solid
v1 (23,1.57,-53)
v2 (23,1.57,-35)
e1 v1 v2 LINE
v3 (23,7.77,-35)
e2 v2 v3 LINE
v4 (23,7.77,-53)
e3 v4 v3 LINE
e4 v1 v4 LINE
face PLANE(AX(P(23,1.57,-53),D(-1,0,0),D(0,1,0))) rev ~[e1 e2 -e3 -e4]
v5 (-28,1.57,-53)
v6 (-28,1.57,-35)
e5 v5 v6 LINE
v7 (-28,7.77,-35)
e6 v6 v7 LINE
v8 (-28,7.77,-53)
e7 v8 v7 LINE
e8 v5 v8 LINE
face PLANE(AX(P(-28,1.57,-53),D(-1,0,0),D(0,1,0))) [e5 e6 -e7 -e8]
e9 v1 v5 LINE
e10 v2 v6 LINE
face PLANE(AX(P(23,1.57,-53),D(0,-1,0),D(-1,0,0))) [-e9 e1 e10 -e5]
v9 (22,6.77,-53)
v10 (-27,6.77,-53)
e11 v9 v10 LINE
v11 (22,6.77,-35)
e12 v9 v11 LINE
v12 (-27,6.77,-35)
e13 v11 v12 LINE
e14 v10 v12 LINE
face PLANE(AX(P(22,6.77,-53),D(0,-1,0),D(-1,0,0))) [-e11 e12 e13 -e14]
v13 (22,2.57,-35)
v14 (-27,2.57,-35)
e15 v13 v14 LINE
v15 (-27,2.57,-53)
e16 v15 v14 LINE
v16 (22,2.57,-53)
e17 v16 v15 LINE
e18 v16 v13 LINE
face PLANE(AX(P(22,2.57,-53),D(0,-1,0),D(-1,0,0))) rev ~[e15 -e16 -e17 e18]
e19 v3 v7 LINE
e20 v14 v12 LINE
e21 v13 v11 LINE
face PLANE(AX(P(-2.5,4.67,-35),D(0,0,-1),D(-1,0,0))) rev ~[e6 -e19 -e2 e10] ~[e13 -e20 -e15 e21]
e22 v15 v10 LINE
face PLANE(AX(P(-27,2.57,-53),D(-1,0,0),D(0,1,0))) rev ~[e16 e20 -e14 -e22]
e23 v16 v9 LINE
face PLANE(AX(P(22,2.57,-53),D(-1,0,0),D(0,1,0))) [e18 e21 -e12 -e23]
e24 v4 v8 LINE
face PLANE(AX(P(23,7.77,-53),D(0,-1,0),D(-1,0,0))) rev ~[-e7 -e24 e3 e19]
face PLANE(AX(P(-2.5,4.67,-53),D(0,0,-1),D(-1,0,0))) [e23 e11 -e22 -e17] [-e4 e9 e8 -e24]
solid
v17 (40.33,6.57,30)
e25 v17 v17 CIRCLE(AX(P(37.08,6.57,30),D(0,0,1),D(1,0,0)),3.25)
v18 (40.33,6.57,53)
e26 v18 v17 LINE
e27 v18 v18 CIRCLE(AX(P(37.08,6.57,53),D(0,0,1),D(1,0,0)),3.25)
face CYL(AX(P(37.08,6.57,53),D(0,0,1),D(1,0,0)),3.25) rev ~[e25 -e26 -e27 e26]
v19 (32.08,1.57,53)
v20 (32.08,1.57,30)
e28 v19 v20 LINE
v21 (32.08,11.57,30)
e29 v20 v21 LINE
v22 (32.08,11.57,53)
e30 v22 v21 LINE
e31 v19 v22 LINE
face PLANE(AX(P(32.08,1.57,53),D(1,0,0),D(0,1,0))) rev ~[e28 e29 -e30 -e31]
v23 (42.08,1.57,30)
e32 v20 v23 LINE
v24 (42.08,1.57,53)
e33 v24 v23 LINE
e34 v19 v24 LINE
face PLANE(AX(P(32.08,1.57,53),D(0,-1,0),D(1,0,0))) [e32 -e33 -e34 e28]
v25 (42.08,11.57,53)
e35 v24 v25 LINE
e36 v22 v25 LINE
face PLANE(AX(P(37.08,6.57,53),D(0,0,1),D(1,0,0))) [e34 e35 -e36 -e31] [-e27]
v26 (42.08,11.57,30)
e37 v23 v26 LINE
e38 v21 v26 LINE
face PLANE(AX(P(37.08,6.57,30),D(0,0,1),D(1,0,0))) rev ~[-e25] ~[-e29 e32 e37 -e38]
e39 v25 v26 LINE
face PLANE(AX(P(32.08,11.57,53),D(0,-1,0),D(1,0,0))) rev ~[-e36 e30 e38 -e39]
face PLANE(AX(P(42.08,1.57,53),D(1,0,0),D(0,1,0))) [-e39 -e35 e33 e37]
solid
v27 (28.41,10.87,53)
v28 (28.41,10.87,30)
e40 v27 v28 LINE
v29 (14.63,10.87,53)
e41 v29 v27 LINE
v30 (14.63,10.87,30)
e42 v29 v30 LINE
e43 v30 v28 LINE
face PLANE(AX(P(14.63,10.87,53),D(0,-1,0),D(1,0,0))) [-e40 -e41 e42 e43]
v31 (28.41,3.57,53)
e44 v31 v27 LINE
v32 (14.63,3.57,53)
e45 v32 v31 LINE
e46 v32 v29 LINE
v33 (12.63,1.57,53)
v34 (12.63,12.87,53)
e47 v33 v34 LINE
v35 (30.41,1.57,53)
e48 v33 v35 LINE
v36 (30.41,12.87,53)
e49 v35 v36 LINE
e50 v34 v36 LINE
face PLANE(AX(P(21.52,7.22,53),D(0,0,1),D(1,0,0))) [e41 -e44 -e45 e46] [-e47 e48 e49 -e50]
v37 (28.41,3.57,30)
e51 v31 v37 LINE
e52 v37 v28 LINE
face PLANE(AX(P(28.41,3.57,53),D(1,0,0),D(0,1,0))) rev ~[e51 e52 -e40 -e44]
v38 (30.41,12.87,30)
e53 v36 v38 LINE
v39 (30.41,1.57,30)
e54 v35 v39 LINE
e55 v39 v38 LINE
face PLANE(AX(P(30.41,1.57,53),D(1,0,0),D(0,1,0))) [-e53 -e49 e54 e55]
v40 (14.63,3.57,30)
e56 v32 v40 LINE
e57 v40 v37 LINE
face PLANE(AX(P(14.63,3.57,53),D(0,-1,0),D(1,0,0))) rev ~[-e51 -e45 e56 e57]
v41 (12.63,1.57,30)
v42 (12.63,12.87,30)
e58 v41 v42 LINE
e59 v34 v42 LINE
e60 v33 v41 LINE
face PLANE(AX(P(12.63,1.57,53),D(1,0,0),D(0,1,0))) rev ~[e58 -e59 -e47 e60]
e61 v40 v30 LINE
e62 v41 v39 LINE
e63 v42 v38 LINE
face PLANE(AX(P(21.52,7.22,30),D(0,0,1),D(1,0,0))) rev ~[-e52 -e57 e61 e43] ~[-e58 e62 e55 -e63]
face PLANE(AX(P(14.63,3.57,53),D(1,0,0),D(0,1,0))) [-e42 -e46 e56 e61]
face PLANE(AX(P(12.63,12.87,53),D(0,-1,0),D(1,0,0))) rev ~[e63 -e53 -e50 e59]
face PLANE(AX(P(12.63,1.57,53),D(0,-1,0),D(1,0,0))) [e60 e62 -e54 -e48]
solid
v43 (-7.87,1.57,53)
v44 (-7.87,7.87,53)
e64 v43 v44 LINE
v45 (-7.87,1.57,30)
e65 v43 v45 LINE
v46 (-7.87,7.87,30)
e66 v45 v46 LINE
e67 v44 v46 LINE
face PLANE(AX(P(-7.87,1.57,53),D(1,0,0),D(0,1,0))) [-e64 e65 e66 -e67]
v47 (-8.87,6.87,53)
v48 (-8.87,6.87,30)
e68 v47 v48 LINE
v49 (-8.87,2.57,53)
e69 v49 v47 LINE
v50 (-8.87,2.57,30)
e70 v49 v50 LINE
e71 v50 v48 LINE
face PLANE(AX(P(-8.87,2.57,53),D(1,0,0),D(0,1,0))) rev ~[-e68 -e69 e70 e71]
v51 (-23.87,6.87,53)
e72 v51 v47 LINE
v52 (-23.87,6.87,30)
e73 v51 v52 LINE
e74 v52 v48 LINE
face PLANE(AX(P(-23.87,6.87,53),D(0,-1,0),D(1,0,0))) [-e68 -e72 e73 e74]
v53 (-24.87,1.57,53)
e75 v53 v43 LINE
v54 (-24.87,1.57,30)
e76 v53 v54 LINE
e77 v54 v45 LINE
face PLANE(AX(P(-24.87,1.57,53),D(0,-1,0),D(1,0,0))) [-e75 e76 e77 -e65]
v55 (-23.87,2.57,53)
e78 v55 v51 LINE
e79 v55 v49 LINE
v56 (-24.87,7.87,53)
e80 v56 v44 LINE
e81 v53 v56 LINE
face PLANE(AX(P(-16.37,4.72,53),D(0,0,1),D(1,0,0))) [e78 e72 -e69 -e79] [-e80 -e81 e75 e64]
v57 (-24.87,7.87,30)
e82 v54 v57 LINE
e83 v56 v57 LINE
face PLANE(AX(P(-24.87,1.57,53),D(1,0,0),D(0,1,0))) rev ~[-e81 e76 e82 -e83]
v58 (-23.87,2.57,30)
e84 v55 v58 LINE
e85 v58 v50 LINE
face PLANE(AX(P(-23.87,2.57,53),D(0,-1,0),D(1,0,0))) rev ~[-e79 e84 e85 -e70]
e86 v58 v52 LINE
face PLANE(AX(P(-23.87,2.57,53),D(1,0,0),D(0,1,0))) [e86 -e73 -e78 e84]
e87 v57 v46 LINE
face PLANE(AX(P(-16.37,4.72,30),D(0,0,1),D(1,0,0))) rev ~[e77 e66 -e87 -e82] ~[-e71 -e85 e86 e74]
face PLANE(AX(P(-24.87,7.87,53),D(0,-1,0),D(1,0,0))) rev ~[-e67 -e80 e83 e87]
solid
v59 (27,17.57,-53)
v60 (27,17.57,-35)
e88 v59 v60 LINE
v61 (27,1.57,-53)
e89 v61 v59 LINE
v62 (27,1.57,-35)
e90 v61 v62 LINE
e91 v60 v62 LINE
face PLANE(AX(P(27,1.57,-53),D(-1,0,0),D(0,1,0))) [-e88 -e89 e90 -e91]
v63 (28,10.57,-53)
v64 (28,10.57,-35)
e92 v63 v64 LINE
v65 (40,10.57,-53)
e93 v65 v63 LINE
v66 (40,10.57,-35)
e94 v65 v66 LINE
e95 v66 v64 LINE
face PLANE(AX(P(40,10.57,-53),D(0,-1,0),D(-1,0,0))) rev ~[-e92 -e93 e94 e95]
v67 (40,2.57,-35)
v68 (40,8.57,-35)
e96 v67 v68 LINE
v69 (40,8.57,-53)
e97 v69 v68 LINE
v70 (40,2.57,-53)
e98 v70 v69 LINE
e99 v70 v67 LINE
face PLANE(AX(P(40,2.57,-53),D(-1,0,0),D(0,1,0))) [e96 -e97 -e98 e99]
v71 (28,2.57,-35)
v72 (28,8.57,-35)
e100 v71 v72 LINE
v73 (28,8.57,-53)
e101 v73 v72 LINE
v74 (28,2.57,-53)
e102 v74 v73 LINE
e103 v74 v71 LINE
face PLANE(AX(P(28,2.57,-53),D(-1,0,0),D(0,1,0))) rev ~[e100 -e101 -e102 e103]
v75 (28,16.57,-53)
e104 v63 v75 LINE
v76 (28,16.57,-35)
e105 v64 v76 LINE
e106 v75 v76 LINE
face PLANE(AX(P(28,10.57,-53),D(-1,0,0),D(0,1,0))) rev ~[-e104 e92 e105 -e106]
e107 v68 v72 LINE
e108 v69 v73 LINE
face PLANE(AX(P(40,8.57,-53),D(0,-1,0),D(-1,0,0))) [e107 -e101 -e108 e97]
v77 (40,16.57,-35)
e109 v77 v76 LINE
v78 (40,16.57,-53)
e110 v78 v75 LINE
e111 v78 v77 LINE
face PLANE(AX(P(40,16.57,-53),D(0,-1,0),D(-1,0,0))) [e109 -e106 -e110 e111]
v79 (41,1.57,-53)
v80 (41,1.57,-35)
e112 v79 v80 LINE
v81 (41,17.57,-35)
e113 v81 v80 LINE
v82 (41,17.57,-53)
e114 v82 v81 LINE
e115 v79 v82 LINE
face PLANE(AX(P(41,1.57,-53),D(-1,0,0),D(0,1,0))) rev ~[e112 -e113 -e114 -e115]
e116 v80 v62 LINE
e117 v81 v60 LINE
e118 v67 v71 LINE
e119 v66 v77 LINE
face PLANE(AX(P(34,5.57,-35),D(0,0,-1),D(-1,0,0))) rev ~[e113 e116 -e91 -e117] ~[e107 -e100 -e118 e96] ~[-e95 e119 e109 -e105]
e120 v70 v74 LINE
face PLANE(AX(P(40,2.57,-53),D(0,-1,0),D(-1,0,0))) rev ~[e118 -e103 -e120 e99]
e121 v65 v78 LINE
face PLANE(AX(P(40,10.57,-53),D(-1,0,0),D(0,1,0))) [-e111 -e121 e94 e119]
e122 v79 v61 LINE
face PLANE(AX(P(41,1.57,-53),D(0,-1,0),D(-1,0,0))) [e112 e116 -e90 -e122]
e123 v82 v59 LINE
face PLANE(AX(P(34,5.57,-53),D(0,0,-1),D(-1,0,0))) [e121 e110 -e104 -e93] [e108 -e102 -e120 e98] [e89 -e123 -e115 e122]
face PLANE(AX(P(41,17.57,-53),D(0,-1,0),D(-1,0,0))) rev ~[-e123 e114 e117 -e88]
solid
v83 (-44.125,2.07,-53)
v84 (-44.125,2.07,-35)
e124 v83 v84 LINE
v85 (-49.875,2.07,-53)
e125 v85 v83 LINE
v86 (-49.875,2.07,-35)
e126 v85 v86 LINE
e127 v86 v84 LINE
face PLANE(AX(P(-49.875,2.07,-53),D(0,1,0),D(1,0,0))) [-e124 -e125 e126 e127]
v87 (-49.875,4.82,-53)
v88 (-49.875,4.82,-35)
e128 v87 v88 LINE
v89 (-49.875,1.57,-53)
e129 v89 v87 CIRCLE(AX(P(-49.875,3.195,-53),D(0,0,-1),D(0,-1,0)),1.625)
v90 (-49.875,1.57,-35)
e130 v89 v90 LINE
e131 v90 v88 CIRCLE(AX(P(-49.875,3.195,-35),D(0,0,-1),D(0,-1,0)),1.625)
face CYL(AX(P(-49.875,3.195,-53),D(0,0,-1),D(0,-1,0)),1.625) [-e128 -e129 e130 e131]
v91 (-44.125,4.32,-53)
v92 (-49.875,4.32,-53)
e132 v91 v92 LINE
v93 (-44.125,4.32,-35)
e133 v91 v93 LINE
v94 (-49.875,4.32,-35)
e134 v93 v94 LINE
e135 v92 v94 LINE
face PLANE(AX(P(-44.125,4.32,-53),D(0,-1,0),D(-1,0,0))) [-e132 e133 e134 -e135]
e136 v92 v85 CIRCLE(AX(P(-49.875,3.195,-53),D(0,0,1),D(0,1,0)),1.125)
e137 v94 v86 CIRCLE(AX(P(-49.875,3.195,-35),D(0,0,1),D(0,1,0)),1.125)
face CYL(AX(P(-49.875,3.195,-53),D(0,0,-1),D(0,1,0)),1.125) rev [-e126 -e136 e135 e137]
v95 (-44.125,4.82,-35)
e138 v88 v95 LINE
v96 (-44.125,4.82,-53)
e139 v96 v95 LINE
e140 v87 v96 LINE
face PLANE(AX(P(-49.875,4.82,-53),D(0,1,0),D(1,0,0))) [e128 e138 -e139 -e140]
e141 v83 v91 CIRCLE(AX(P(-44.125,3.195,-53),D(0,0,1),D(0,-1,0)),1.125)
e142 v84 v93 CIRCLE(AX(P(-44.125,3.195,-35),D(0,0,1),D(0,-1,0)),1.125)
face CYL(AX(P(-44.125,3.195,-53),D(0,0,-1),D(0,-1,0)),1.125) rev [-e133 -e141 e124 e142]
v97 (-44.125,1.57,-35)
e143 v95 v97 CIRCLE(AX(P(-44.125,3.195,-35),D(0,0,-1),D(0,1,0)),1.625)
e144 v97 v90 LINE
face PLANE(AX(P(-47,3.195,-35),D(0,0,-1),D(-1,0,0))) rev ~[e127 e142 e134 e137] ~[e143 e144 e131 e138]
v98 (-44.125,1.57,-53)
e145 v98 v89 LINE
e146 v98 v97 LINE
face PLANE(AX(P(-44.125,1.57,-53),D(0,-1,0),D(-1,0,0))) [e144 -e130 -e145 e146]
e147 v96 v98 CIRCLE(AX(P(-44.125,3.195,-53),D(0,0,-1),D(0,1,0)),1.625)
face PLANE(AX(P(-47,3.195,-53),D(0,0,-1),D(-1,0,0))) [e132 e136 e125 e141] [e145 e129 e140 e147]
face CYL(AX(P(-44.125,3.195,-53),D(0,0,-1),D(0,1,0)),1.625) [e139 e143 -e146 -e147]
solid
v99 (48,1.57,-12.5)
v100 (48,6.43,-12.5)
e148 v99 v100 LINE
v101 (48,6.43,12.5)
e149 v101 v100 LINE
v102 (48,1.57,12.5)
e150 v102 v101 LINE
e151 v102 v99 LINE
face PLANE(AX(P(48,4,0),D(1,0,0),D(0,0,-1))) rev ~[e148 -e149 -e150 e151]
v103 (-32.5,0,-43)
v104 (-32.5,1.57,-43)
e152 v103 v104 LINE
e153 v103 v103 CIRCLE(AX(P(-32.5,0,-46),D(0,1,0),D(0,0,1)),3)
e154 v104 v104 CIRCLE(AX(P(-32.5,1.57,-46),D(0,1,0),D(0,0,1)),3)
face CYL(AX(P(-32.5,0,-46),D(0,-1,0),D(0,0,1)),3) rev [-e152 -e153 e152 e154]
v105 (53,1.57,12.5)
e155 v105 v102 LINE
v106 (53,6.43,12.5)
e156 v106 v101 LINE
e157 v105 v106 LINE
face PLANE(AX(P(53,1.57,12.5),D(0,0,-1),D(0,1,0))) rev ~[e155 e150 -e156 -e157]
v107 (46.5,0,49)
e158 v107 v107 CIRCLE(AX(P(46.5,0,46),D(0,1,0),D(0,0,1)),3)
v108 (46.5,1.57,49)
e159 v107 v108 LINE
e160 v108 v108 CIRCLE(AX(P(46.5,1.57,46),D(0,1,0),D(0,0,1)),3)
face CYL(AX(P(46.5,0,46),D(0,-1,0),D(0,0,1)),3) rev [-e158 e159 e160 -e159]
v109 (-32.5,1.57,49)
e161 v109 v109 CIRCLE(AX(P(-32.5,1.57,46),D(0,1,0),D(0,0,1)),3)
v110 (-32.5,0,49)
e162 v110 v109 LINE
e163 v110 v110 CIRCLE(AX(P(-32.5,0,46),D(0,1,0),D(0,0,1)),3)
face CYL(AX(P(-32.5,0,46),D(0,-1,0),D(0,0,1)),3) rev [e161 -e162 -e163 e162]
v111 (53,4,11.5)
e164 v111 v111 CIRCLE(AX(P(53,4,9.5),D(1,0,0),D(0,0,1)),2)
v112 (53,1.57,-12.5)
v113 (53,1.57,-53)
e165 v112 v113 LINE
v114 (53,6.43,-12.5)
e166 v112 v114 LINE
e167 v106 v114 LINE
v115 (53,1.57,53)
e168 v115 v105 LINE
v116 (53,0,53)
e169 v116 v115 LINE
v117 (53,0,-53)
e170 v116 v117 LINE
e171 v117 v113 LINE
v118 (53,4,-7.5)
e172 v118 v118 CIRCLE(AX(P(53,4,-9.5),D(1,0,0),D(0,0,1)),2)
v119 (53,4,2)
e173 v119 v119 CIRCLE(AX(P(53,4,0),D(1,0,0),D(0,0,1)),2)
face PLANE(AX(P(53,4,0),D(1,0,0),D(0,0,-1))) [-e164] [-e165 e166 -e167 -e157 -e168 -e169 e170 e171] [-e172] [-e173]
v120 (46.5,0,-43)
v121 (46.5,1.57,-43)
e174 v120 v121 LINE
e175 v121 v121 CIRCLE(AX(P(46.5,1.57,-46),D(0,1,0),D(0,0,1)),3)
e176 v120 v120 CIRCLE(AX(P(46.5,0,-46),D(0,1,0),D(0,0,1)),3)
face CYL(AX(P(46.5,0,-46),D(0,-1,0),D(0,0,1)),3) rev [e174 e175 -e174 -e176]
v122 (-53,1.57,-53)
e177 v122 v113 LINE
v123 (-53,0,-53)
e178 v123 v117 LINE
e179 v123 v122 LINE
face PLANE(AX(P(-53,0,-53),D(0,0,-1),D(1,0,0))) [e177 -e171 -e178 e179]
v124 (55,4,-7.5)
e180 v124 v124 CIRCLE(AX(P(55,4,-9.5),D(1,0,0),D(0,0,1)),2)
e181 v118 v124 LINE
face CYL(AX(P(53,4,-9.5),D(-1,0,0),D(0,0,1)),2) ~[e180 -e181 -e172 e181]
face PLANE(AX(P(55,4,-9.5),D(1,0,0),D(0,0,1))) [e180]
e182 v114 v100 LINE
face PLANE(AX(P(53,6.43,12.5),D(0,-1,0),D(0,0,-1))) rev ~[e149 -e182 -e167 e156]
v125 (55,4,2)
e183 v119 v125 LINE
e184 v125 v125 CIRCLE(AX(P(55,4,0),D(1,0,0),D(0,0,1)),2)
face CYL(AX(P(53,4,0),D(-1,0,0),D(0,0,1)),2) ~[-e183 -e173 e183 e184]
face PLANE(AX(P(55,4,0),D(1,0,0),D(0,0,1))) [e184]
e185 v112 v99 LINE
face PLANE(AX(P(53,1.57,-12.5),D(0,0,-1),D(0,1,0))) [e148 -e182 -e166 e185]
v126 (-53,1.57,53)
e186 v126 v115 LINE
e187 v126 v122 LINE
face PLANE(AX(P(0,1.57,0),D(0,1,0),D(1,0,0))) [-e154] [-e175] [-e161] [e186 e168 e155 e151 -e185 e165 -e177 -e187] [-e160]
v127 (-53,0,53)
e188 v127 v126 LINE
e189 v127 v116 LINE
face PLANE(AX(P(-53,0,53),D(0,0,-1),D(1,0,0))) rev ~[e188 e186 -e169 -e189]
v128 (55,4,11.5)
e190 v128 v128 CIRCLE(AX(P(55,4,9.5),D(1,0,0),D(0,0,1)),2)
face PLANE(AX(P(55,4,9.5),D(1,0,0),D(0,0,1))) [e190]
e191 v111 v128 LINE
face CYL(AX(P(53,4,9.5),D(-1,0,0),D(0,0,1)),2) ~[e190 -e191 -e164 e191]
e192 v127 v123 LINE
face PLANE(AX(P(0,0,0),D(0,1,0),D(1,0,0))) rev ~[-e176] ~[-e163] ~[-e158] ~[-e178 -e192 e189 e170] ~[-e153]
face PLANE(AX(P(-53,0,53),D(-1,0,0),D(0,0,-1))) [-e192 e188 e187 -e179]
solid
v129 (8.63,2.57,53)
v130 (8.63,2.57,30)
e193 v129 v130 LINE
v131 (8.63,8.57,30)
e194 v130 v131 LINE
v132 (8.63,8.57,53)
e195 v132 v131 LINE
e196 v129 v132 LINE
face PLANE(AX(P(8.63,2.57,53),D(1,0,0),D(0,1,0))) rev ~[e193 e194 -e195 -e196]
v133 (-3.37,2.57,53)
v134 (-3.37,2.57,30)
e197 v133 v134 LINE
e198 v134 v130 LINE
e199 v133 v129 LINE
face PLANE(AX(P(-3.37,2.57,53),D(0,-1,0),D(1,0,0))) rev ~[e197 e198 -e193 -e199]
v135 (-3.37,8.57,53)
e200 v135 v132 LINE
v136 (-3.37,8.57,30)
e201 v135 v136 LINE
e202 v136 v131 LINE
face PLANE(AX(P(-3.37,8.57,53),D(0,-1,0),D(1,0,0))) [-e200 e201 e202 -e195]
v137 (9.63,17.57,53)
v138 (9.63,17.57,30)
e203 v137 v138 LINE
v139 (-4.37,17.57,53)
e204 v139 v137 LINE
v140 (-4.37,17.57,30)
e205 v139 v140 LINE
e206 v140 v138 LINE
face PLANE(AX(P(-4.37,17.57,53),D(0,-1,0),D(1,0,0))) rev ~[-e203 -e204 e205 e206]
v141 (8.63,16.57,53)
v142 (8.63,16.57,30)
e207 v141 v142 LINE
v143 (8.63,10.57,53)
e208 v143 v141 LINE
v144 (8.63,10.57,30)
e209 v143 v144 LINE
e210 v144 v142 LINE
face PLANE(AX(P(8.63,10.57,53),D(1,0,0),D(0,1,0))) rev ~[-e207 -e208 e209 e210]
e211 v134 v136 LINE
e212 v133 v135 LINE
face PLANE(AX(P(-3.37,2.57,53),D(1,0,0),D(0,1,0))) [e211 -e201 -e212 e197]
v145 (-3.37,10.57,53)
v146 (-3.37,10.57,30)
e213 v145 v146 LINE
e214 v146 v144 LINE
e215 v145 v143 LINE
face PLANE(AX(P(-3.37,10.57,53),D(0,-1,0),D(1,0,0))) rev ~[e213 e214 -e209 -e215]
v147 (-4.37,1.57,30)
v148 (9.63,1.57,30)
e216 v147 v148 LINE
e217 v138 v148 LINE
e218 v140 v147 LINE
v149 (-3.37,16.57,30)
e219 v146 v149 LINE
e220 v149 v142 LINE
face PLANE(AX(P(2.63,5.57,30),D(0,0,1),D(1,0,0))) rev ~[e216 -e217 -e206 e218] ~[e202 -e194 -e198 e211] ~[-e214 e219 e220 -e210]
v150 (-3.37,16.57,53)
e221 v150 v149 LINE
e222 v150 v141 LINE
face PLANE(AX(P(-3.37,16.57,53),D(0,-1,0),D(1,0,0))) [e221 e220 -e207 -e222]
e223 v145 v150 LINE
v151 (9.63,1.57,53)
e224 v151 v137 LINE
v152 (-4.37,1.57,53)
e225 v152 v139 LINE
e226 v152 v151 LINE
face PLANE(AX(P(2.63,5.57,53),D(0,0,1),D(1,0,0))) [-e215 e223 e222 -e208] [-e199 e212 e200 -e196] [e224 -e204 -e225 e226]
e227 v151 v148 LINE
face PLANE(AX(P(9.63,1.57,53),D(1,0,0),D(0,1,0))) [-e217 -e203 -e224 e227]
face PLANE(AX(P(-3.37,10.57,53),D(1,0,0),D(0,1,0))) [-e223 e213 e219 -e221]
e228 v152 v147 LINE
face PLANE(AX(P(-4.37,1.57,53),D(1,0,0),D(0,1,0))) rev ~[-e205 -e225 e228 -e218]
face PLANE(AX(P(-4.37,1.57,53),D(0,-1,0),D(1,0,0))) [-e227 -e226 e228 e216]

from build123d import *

# Parameters (mm, degrees)
SKETCH1_W             = 106
SKETCH1_H             = 106
SKETCH1_R             = 3
BOSS_EXTRUDE1_DEPTH   = 1.57
SKETCH2_W             = 17
SKETCH2_H             = 6.3
SKETCH2_W_2           = 15
SKETCH2_H_2           = 4.3
BOSS_EXTRUDE2_DEPTH   = 23
SKETCH2_W_3           = 10
SKETCH2_H_3           = 10
SKETCH2_R             = 3.25
BOSS_EXTRUDE2_2_DEPTH = 23
SKETCH2_W_4           = 17.78
SKETCH2_H_4           = 11.3
SKETCH2_W_5           = 13.78
SKETCH2_H_5           = 7.3
BOSS_EXTRUDE2_3_DEPTH = 23
SKETCH2_W_6           = 14
SKETCH2_H_6           = 16
SKETCH2_W_7           = 12
SKETCH2_H_7           = 6
BOSS_EXTRUDE2_4_DEPTH = 23
SKETCH3_W             = 14
SKETCH3_H             = 16
SKETCH3_W_2           = 12
SKETCH3_H_2           = 6
BOSS_EXTRUDE3_DEPTH   = 18
BOSS_EXTRUDE3_2_DEPTH = 18
SKETCH3_W_3           = 51
SKETCH3_H_3           = 6.2
SKETCH3_W_4           = 49
SKETCH3_H_4           = 4.2
BOSS_EXTRUDE3_3_DEPTH = 18
SKETCH4_W             = 25
SKETCH4_H             = 4.86
BOSS_EXTRUDE4_DEPTH   = 5
SKETCH4_3_R           = 2
BOSS_EXTRUDE5_DEPTH   = 2


with BuildPart() as part:
    # Sketch1 → Boss-Extrude1 (new body)
    with BuildSketch(Plane(origin=(0, 0, 0), x_dir=(1, 0, 0), z_dir=(0, 1, 0))):
        Rectangle(SKETCH1_W, SKETCH1_H)
        with Locations((46.5, -46)):
            Circle(SKETCH1_R, mode=Mode.SUBTRACT)
        with Locations((-32.5, -46)):
            Circle(SKETCH1_R, mode=Mode.SUBTRACT)
        with Locations((-32.5, 46)):
            Circle(SKETCH1_R, mode=Mode.SUBTRACT)
        with Locations((46.5, 46)):
            Circle(SKETCH1_R, mode=Mode.SUBTRACT)
    extrude(amount=BOSS_EXTRUDE1_DEPTH)

    # Sketch4 → Boss-Extrude4 (add)
    with BuildSketch(Plane(origin=(53, 0, 0), x_dir=(0, 0, -1), z_dir=(1, 0, 0))):
        with Locations((0, 4)):
            Rectangle(SKETCH4_W, SKETCH4_H)
    extrude(amount=-BOSS_EXTRUDE4_DEPTH)

    # Sketch4<3> → Boss-Extrude5 (add)
    with BuildSketch(Plane(origin=(53, 0, 0), x_dir=(0, 0, -1), z_dir=(1, 0, 0))):
        with Locations((-9.5, 4)):
            Circle(SKETCH4_3_R)
        with Locations((0, 4)):
            Circle(SKETCH4_3_R)
        with Locations((9.5, 4)):
            Circle(SKETCH4_3_R)
    extrude(amount=BOSS_EXTRUDE5_DEPTH)


with BuildPart() as body_2:
    # Sketch2 → Boss-Extrude2 (new body)
    with BuildSketch(Plane.XY.offset(53)):
        with Locations((-16.37, 4.72)):
            Rectangle(SKETCH2_W, SKETCH2_H)
        with Locations((-16.37, 4.72)):
            Rectangle(SKETCH2_W_2, SKETCH2_H_2, mode=Mode.SUBTRACT)
    extrude(amount=-BOSS_EXTRUDE2_DEPTH)


with BuildPart() as body_3:
    # Sketch2 → Boss-Extrude2 2 (new body)
    with BuildSketch(Plane.XY.offset(53)):
        with Locations((37.08, 6.57)):
            Rectangle(SKETCH2_W_3, SKETCH2_H_3)
        with Locations((37.08, 6.57)):
            Circle(SKETCH2_R, mode=Mode.SUBTRACT)
    extrude(amount=-BOSS_EXTRUDE2_2_DEPTH)


with BuildPart() as body_4:
    # Sketch2 → Boss-Extrude2 3 (new body)
    with BuildSketch(Plane.XY.offset(53)):
        with Locations((21.52, 7.22)):
            Rectangle(SKETCH2_W_4, SKETCH2_H_4)
        with Locations((21.52, 7.22)):
            Rectangle(SKETCH2_W_5, SKETCH2_H_5, mode=Mode.SUBTRACT)
    extrude(amount=-BOSS_EXTRUDE2_3_DEPTH)


with BuildPart() as body_5:
    # Sketch2 → Boss-Extrude2 4 (new body)
    with BuildSketch(Plane.XY.offset(53)):
        with Locations((2.63, 9.57)):
            Rectangle(SKETCH2_W_6, SKETCH2_H_6)
        with Locations((2.63, 5.57)):
            Rectangle(SKETCH2_W_7, SKETCH2_H_7, mode=Mode.SUBTRACT)
        with Locations((2.63, 13.57)):
            Rectangle(SKETCH2_W_7, SKETCH2_H_7, mode=Mode.SUBTRACT)
    extrude(amount=-BOSS_EXTRUDE2_4_DEPTH)


with BuildPart() as body_6:
    # Sketch3 → Boss-Extrude3 (new body)
    with BuildSketch(Plane(origin=(0, 0, -53), x_dir=(-1, 0, 0), z_dir=(0, 0, -1))):
        with Locations((-34, 9.57)):
            Rectangle(SKETCH3_W, SKETCH3_H)
        with Locations((-34, 5.57)):
            Rectangle(SKETCH3_W_2, SKETCH3_H_2, mode=Mode.SUBTRACT)
        with Locations((-34, 13.57)):
            Rectangle(SKETCH3_W_2, SKETCH3_H_2, mode=Mode.SUBTRACT)
    extrude(amount=-BOSS_EXTRUDE3_DEPTH)


with BuildPart() as body_7:
    # Sketch3 → Boss-Extrude3 2 (new body)
    with BuildSketch(Plane(origin=(0, 0, -53), x_dir=(-1, 0, 0), z_dir=(0, 0, -1))):
        with BuildLine():
            ThreePointArc((44.125, 4.82), (42.5, 3.195), (44.125, 1.57))
            Line((44.125, 1.57), (49.875, 1.57))
            ThreePointArc((49.875, 1.57), (51.5, 3.195), (49.875, 4.82))
            Line((49.875, 4.82), (44.125, 4.82))
        make_face()
        with BuildLine():
            ThreePointArc((44.125, 2.07), (43, 3.195), (44.125, 4.32))
            Line((44.125, 4.32), (49.875, 4.32))
            ThreePointArc((49.875, 4.32), (51, 3.195), (49.875, 2.07))
            Line((49.875, 2.07), (44.125, 2.07))
        make_face(mode=Mode.SUBTRACT)
    extrude(amount=-BOSS_EXTRUDE3_2_DEPTH)


with BuildPart() as body_8:
    # Sketch3 → Boss-Extrude3 3 (new body)
    with BuildSketch(Plane(origin=(0, 0, -53), x_dir=(-1, 0, 0), z_dir=(0, 0, -1))):
        with Locations((2.5, 4.67)):
            Rectangle(SKETCH3_W_3, SKETCH3_H_3)
        with Locations((2.5, 4.67)):
            Rectangle(SKETCH3_W_4, SKETCH3_H_4, mode=Mode.SUBTRACT)
    extrude(amount=-BOSS_EXTRUDE3_3_DEPTH)


solid = Compound([part.part, body_2.part, body_3.part, body_4.part, body_5.part, body_6.part, body_7.part, body_8.part])
